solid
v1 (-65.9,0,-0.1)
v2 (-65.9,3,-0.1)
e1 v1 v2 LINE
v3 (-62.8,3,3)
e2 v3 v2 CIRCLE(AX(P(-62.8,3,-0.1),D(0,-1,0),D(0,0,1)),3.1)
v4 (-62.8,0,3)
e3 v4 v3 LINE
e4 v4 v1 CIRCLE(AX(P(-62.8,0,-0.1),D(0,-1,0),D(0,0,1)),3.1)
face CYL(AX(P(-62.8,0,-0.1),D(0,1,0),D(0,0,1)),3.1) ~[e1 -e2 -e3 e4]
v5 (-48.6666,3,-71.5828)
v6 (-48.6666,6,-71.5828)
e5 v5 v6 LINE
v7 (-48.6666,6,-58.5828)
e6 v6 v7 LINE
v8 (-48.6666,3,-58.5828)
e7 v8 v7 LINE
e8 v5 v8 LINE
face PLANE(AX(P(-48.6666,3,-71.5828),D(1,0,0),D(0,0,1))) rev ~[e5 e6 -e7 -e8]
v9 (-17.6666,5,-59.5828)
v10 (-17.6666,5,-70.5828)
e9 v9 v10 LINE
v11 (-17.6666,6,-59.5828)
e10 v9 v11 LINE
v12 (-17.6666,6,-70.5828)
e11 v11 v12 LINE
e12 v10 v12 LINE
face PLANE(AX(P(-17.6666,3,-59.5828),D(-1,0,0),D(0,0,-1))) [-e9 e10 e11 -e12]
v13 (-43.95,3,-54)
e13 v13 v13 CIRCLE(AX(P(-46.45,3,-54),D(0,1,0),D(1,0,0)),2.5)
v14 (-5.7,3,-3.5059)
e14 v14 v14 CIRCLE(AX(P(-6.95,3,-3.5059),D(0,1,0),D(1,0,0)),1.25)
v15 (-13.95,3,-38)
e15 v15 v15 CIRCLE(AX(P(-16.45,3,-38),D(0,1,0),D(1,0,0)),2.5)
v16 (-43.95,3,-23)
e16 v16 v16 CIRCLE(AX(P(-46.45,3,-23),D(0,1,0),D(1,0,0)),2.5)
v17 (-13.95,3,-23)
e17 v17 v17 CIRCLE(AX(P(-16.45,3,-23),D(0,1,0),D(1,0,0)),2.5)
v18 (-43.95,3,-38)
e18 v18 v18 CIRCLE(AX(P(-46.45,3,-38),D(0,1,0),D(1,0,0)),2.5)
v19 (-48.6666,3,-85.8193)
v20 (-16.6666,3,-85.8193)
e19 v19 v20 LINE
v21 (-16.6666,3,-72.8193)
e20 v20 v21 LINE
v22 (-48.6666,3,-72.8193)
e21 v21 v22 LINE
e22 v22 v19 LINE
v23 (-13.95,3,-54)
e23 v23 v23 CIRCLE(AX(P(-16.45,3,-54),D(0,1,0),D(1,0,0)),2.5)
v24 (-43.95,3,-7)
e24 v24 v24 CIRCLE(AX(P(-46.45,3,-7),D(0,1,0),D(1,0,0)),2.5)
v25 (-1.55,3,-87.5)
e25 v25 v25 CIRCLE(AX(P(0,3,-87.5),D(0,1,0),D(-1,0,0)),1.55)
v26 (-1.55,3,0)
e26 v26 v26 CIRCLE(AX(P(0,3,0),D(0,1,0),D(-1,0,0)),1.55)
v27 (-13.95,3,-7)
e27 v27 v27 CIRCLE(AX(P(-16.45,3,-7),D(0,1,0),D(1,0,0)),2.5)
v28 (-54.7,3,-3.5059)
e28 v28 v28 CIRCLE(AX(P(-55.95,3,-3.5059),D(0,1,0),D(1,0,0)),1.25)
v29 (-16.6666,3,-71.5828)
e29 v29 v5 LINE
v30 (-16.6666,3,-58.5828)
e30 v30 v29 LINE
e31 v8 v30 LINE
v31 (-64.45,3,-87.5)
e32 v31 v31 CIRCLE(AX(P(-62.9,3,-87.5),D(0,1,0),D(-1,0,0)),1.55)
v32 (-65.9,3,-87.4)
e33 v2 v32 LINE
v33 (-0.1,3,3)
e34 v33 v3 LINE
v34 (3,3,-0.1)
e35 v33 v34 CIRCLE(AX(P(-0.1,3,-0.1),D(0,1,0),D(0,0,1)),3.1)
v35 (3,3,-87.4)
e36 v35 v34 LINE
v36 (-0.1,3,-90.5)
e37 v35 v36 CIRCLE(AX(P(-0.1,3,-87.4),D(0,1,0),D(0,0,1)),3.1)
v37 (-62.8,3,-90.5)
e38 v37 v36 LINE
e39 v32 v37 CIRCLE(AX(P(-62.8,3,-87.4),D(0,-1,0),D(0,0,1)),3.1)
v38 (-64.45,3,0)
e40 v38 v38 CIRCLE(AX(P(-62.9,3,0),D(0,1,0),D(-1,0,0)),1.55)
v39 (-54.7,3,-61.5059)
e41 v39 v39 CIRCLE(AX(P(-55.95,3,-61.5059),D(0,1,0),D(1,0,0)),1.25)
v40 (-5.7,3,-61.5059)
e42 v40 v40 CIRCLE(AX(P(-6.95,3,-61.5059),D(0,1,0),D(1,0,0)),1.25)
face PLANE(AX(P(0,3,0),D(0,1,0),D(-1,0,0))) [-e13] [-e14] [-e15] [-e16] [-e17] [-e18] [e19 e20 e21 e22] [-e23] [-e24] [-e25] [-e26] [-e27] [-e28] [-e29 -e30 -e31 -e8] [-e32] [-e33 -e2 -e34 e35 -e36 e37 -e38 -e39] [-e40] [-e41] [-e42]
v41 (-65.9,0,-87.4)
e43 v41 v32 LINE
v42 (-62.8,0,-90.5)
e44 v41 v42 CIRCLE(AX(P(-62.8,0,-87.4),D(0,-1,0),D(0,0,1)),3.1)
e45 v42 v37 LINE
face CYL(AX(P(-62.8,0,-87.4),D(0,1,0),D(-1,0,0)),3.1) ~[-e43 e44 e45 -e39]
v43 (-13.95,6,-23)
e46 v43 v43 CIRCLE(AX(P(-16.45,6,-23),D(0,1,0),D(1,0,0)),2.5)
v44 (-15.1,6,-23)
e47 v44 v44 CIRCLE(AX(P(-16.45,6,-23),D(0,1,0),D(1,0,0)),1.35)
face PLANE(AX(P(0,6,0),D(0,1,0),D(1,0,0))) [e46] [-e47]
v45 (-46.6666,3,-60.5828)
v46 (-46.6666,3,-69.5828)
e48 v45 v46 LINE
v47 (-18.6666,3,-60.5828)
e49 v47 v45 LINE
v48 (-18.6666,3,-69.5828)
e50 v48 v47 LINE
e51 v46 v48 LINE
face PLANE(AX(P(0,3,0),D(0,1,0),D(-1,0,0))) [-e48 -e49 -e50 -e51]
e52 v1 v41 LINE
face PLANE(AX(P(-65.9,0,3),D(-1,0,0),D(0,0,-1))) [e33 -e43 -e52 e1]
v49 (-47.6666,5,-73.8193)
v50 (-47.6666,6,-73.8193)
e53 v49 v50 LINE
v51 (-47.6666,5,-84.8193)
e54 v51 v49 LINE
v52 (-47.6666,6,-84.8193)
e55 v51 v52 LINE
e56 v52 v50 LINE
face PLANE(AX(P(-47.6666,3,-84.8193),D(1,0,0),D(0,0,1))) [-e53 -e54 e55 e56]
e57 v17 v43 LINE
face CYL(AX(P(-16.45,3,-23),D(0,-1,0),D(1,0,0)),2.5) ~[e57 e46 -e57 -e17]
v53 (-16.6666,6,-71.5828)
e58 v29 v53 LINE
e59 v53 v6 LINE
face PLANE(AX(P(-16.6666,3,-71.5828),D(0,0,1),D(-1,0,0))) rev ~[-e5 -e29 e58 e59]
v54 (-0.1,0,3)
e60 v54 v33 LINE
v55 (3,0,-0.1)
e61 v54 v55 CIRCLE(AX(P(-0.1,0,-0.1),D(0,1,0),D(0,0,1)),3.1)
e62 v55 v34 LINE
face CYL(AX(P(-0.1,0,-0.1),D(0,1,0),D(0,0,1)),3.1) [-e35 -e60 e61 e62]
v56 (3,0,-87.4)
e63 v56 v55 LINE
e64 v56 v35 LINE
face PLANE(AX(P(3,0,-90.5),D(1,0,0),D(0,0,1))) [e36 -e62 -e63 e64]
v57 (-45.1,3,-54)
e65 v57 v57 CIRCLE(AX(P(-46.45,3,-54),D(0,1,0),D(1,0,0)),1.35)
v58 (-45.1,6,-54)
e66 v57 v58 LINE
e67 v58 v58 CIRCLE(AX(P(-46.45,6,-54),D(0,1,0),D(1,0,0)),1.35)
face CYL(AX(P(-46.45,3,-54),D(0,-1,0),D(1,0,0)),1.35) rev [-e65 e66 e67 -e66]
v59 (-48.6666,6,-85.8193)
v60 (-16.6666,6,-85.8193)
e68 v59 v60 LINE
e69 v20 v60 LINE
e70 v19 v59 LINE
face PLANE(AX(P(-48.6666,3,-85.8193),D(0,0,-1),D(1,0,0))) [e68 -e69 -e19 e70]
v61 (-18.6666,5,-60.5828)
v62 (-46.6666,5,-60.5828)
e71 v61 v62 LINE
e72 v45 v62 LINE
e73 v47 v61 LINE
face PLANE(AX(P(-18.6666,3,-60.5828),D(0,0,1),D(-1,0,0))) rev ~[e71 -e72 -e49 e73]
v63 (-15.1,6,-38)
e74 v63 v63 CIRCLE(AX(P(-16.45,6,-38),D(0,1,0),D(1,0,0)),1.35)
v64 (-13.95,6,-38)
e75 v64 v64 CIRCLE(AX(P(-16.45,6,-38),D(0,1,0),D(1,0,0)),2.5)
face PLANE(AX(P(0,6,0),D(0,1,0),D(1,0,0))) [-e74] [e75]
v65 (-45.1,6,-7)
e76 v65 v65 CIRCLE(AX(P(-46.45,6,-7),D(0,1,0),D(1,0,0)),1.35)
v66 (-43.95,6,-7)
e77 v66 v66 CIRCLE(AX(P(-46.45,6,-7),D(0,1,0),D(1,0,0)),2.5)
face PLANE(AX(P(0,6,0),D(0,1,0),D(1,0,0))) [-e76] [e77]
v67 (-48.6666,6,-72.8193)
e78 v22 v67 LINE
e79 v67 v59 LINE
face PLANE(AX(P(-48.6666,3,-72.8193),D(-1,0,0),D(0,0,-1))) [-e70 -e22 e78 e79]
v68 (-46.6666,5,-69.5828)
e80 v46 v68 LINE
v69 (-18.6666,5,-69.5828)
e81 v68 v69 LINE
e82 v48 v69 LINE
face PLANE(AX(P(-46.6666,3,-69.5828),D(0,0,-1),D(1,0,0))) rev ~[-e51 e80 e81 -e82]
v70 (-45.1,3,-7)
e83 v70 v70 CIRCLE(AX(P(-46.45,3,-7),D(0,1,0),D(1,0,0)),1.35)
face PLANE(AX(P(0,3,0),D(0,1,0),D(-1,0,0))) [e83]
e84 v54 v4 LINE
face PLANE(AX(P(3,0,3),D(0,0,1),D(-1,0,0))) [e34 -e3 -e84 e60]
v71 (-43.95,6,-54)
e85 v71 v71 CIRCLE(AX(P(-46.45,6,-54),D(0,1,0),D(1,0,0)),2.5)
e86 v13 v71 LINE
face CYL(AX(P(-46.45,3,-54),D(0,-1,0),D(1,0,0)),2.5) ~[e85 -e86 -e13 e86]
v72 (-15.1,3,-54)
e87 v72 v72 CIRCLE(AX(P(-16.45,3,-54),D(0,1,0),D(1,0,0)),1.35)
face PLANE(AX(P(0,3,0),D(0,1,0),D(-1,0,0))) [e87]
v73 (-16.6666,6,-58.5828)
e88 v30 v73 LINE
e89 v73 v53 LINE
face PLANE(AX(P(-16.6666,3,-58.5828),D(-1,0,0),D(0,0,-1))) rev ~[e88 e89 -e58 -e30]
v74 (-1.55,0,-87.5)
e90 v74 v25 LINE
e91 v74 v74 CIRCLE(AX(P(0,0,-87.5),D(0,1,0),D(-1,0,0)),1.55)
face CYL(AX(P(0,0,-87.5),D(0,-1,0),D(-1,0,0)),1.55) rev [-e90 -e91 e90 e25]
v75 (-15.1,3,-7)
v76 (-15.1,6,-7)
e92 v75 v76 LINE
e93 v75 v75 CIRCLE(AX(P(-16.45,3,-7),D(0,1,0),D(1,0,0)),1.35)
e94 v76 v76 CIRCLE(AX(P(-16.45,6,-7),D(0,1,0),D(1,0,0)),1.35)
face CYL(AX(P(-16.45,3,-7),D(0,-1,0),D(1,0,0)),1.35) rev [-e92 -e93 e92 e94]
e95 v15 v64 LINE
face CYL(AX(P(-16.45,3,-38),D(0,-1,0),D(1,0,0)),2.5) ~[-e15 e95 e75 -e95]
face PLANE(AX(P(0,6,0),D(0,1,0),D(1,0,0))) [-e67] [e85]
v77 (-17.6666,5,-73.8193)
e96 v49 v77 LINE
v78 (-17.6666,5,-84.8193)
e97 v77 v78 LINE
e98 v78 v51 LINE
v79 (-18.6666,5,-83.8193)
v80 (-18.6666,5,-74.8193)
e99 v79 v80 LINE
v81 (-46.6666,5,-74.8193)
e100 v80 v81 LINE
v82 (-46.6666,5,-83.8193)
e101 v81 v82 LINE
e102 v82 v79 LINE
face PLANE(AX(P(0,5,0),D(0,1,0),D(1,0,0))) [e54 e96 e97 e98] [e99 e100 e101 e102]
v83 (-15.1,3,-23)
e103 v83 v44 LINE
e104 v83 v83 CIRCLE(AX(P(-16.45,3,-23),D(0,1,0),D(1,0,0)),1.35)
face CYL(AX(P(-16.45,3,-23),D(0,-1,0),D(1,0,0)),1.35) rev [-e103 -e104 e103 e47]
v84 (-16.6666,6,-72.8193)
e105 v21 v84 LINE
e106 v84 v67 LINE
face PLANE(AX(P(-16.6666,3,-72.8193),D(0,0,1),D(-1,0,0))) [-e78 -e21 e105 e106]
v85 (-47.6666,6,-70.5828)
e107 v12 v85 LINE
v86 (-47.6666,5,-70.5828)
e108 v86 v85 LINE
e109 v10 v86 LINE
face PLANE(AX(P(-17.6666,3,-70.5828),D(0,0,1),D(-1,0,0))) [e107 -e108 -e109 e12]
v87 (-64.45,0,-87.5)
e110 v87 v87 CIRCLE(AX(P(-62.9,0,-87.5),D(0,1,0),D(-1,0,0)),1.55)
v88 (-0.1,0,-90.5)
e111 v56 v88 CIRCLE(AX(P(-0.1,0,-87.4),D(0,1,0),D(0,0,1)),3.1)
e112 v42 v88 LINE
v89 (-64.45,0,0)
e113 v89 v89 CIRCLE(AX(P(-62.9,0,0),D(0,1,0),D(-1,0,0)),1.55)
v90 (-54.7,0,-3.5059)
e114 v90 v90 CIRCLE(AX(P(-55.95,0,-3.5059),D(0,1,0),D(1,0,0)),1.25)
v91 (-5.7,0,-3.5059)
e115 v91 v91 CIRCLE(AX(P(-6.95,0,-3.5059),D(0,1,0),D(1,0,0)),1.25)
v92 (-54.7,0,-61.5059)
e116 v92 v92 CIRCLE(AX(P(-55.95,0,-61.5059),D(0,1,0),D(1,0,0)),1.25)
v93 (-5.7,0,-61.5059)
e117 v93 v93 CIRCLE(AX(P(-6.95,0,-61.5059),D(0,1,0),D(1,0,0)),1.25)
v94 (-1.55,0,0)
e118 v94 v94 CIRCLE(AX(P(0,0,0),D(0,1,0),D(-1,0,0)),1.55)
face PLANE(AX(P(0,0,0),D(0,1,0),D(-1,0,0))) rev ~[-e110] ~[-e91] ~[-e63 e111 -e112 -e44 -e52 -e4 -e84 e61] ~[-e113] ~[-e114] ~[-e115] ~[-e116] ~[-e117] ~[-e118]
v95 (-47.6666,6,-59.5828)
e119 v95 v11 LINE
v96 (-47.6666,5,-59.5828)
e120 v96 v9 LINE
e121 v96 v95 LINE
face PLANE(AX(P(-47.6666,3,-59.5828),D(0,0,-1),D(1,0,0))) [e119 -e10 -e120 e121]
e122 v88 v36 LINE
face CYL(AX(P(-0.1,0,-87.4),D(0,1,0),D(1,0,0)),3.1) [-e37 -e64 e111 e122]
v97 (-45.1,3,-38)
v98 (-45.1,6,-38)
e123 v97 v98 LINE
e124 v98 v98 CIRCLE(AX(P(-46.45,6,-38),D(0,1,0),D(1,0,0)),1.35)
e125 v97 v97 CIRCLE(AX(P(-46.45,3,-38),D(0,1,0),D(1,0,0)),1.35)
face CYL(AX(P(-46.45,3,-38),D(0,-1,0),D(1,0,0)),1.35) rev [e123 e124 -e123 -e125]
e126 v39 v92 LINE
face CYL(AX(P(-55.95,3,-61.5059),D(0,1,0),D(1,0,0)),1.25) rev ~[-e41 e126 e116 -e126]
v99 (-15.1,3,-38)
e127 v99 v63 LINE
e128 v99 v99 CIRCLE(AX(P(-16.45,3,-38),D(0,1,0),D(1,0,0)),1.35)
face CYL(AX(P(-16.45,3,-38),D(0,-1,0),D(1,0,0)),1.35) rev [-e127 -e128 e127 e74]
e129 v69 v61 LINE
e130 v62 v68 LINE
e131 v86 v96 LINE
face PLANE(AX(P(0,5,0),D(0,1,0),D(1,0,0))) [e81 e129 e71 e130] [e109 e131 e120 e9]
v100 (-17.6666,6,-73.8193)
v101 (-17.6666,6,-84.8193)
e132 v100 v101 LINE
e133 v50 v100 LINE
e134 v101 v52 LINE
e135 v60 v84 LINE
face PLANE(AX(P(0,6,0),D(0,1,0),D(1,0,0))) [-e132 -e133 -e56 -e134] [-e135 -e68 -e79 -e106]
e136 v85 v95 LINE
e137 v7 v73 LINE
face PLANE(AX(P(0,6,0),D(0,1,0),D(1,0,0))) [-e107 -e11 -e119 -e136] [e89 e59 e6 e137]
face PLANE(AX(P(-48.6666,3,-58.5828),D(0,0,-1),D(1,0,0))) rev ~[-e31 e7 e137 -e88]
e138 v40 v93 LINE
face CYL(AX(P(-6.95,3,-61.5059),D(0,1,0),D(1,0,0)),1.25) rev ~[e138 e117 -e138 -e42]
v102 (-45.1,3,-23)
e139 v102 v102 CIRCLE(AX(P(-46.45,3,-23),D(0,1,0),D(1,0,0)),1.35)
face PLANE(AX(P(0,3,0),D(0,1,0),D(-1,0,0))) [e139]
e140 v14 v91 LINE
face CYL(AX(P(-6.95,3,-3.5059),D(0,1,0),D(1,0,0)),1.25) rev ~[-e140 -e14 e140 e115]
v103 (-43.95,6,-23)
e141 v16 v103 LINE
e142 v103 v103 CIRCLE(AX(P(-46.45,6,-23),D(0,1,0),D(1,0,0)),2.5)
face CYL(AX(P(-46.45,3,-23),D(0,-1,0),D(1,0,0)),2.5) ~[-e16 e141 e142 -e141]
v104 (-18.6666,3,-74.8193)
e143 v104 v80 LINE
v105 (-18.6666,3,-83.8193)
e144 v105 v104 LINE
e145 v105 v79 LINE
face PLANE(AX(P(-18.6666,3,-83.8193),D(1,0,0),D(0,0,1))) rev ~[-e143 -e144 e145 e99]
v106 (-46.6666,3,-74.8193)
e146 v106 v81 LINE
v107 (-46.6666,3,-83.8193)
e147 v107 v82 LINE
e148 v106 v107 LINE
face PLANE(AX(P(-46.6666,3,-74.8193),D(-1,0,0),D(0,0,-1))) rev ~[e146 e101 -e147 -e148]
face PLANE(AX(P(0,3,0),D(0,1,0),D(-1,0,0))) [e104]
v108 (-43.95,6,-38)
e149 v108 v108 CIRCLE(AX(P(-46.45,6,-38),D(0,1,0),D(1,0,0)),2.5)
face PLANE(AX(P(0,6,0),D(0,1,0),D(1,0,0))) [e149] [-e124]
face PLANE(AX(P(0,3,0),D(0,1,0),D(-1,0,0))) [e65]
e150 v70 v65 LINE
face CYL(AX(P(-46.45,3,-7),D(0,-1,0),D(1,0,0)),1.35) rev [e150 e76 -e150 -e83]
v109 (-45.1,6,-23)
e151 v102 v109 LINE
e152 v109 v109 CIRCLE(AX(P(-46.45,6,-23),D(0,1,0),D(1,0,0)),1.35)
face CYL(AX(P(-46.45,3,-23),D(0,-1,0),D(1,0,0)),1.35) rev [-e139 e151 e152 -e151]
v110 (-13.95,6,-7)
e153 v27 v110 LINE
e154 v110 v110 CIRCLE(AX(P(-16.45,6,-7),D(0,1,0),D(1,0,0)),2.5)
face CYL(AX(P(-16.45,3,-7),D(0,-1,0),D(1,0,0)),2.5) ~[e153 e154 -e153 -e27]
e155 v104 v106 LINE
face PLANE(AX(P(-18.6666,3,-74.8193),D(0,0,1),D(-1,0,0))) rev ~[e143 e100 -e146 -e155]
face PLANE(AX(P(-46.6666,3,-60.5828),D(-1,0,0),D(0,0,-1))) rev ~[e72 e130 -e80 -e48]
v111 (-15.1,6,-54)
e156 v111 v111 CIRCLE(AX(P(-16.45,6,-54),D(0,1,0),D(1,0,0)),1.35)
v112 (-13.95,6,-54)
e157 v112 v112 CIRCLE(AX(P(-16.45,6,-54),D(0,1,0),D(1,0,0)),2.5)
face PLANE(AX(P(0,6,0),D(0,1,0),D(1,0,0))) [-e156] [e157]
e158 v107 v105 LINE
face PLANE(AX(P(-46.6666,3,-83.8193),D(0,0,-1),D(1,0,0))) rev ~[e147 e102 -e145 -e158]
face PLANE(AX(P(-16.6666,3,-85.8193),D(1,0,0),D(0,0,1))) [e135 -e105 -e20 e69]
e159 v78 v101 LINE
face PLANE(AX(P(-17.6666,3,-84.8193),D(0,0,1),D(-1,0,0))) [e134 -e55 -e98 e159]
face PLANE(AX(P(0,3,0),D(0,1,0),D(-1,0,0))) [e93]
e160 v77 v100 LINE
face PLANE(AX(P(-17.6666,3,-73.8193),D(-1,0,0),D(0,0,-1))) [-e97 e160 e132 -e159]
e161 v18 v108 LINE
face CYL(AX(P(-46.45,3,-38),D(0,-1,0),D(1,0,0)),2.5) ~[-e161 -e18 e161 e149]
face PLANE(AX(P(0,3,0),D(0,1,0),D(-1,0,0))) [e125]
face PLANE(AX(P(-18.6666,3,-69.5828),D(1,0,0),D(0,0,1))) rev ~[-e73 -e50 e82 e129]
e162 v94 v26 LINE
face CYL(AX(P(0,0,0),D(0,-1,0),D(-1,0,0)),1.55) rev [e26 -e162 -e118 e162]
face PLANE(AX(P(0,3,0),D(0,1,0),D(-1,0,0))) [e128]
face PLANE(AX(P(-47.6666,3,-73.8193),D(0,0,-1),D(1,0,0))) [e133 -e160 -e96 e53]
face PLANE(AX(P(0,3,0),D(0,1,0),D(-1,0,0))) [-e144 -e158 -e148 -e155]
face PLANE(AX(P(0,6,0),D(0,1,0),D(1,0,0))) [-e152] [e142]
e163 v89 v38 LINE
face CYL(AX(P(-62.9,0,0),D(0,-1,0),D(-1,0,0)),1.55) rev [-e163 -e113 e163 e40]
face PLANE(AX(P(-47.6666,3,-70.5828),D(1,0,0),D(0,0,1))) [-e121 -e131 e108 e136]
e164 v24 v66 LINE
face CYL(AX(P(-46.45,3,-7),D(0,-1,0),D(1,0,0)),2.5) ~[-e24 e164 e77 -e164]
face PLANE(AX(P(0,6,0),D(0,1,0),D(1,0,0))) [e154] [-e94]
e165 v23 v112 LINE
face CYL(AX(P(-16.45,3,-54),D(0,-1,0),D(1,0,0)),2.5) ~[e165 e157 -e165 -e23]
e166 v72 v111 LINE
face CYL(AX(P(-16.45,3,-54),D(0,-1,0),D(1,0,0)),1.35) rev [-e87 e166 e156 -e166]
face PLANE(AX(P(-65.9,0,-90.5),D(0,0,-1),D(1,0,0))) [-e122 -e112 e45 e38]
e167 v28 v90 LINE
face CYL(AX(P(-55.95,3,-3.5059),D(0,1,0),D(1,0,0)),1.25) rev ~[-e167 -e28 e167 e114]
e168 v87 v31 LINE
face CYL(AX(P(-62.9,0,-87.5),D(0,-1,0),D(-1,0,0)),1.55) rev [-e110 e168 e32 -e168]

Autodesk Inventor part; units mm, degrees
ref_plane "YZ Plane" through (0, 0, 0) normal (1, 0, 0) x (0, 1, 0)
ref_plane "XZ Plane" through (0, 0, 0) normal (0, 1, 0) x (-1, 0, 0)
ref_plane "XY Plane" through (0, 0, 0) normal (0, 0, 1) x (1, 0, 0)
sketch "Sketch1" plane through (0, 0, 0) normal (0, 1, 0) x (-1, 0, 0)
  line L0 (-3, 3) -> (65.9, 3)
  line L1 (65.9, 3) -> (65.9, -90.5)
  line L2 (65.9, -90.5) -> (-3, -90.5)
  line L3 (-3, -90.5) -> (-3, 3)
  circle A0 centre (62.9, 0) radius 1.55
  circle A1 centre (62.9, -87.5) radius 1.55
  circle A2 centre (0, -87.5) radius 1.55
  circle A3 centre (0, 0) radius 1.55
extrude "Extrusion1" add sketch "Sketch1" along normal blind 3
sketch "Sketch2" plane through (0, 3, 0) normal (0, 1, 0) x (1, 0, 0)
  circle A0 centre (0, 0) radius 1.55 projected
  circle A1 centre (0, 87.5) radius 1.55 projected
  circle A2 centre (-62.9, 87.5) radius 1.55 projected
  circle A3 centre (-62.9, 0) radius 1.55 projected
  line L0 (-65.9, -3) -> (3, -3) projected
  line L1 (3, -3) -> (3, 90.5) projected
  line L2 (3, 90.5) -> (-65.9, 90.5) projected
  line L3 (-65.9, 90.5) -> (-65.9, -3) projected
  line L4 (3, 90.5) -> (-65.9, 90.5) projected
  circle A4 centre (-46.45, 7) radius 1.35
  circle A5 centre (-46.45, 23) radius 1.35
  circle A6 centre (-16.45, 23) radius 1.35
  circle A7 centre (-16.45, 7) radius 1.35
  circle A8 centre (-16.45, 7) radius 2.5
  circle A9 centre (-16.45, 23) radius 2.5
  circle A10 centre (-46.45, 23) radius 2.5
  circle A11 centre (-46.45, 7) radius 2.5
extrude "Extrusion2" add sketch "Sketch2" along normal blind 3 contours A8 | A9 | A10 | A11
sketch "Sketch3" plane through (0, 3, 0) normal (0, 1, 0) x (1, 0, 0)
  circle A0 centre (-46.45, 23) radius 2.5 projected
  circle A1 centre (-16.45, 7) radius 2.5 projected
  circle A2 centre (-16.45, 23) radius 2.5 projected
  circle A3 centre (-46.45, 7) radius 2.5 projected
  circle A4 centre (0, 0) radius 1.55 projected
  circle A5 centre (0, 87.5) radius 1.55 projected
  circle A6 centre (-62.9, 87.5) radius 1.55 projected
  circle A7 centre (-62.9, 0) radius 1.55 projected
  line L0 (-65.9, -3) -> (3, -3) projected
  line L1 (3, -3) -> (3, 90.5) projected
  line L2 (3, 90.5) -> (-65.9, 90.5) projected
  line L3 (-65.9, 90.5) -> (-65.9, -3) projected
  circle A8 centre (-46.45, 38) radius 2.5
  circle A9 centre (-46.45, 54) radius 2.5
  circle A10 centre (-16.45, 38) radius 2.5
  circle A11 centre (-16.45, 54) radius 2.5
  circle A12 centre (-46.45, 38) radius 1.35
  circle A13 centre (-46.45, 54) radius 1.35
  circle A14 centre (-16.45, 38) radius 1.35
  circle A15 centre (-16.45, 54) radius 1.35
  dimension "d33" = 5
  dimension "d34" = 5
  dimension "d35" = 5
  dimension "d37" = 15
  dimension "d38" = 15
  dimension "d40" = 16
  dimension "d41" = 2.7
  dimension "d42" = 2.7
  dimension "d44" = 2.7
  dimension "d45" = 2.7
extrude "Extrusion3" add sketch "Sketch3" along normal blind 3 contours A8 | A9 | A10 | A11
sketch "Sketch4" plane through (0, 3, 0) normal (0, 1, 0) x (1, 0, 0)
  circle A0 centre (-16.45, 38) radius 2.5 projected
  circle A1 centre (-46.45, 38) radius 2.5 projected
  circle A2 centre (-46.45, 54) radius 2.5 projected
  circle A3 centre (-16.45, 54) radius 2.5 projected
  circle A4 centre (-46.45, 23) radius 2.5 projected
  circle A5 centre (-16.45, 7) radius 2.5 projected
  circle A6 centre (-16.45, 23) radius 2.5 projected
  circle A7 centre (-46.45, 7) radius 2.5 projected
  circle A8 centre (0, 0) radius 1.55 projected
  circle A9 centre (0, 87.5) radius 1.55 projected
  circle A10 centre (-62.9, 87.5) radius 1.55 projected
  circle A11 centre (-62.9, 0) radius 1.55 projected
  line L0 (-65.9, -3) -> (3, -3) projected
  line L1 (3, -3) -> (3, 90.5) projected
  line L2 (3, 90.5) -> (-65.9, 90.5) projected
  line L3 (-65.9, 90.5) -> (-65.9, -3) projected
  line L4 (-47.6666, 59.5828) -> (-17.6666, 59.5828)
  line L5 (-17.6666, 59.5828) -> (-17.6666, 70.5828)
  line L6 (-17.6666, 70.5828) -> (-47.6666, 70.5828)
  line L7 (-47.6666, 70.5828) -> (-47.6666, 59.5828)
  line L8 (-47.6666, 73.8193) -> (-17.6666, 73.8193)
  line L9 (-17.6666, 73.8193) -> (-17.6666, 84.8193)
  line L10 (-17.6666, 84.8193) -> (-47.6666, 84.8193)
  line L11 (-47.6666, 84.8193) -> (-47.6666, 73.8193)
  line L12 (-48.6666, 58.5828) -> (-16.6666, 58.5828)
  line L13 (-16.6666, 58.5828) -> (-16.6666, 71.5828)
  line L14 (-16.6666, 71.5828) -> (-48.6666, 71.5828)
  line L15 (-48.6666, 71.5828) -> (-48.6666, 58.5828)
  line L16 (-48.6666, 85.8193) -> (-16.6666, 85.8193)
  line L17 (-16.6666, 85.8193) -> (-16.6666, 72.8193)
  line L18 (-16.6666, 72.8193) -> (-48.6666, 72.8193)
  line L19 (-48.6666, 72.8193) -> (-48.6666, 85.8193)
  dimension "d61" = 32
  dimension "d62" = 13
  dimension "d63" = 32
  dimension "d64" = 13
  dimension "d65" = 1
  dimension "d66" = 30
  dimension "d67" = 0
  dimension "d68" = 1
  dimension "d69" = 30
  dimension "d81" = 11
  dimension "d82" = 11
  dimension "d83" = 1
  dimension "d84" = 1
extrude "Extrusion4" add sketch "Sketch4" along normal blind 3 contours L15 L14 L13 L12 | L16 L17 L18 L19
sketch "Sketch5" plane through (0, 3, 0) normal (0, 1, 0) x (1, 0, 0)
  line L0 (-47.6666, 84.8193) -> (-47.6666, 73.8193) projected
  line L1 (-47.6666, 73.8193) -> (-17.6666, 73.8193) projected
  line L2 (-17.6666, 73.8193) -> (-17.6666, 84.8193) projected
  line L3 (-17.6666, 84.8193) -> (-47.6666, 84.8193) projected
  line L4 (-47.6666, 70.5828) -> (-47.6666, 59.5828) projected
  line L5 (-47.6666, 59.5828) -> (-17.6666, 59.5828) projected
  line L6 (-17.6666, 59.5828) -> (-17.6666, 70.5828) projected
  line L7 (-17.6666, 70.5828) -> (-47.6666, 70.5828) projected
  line L8 (-46.6666, 83.8193) -> (-18.6666, 83.8193)
  line L9 (-18.6666, 83.8193) -> (-18.6666, 74.8193)
  line L10 (-18.6666, 74.8193) -> (-46.6666, 74.8193)
  line L11 (-46.6666, 74.8193) -> (-46.6666, 83.8193)
  line L12 (-46.6666, 69.5828) -> (-18.6666, 69.5828)
  line L13 (-18.6666, 69.5828) -> (-18.6666, 60.5828)
  line L14 (-18.6666, 60.5828) -> (-46.6666, 60.5828)
  line L15 (-46.6666, 60.5828) -> (-46.6666, 69.5828)
  point P0 (0, 0)
  dimension "d72" = 1
  dimension "d73" = 1
  dimension "d74" = 1
  dimension "d75" = 1
  dimension "d76" = 1
  dimension "d77" = 1
extrude "Extrusion5" add sketch "Sketch5" along normal blind 2
fillet "Fillet1" radius 3.1 4 edges at (3, 1.5, -90.5) (3, 1.5, 3) (-65.9, 1.5, 3) (-65.9, 1.5, -90.5)
sketch "Sketch6" plane through (0, 3, 0) normal (0, 1, 0) x (1, 0, 0)
  line L0 (-48.6666, 58.5828) -> (-48.6666, 71.5828) projected
  line L1 (-48.6666, 71.5828) -> (-16.6666, 71.5828) projected
  line L2 (-16.6666, 71.5828) -> (-16.6666, 58.5828) projected
  line L3 (-16.6666, 58.5828) -> (-48.6666, 58.5828) projected
  line L4 (-16.6666, 85.8193) -> (-16.6666, 72.8193) projected
  line L5 (-16.6666, 72.8193) -> (-48.6666, 72.8193) projected
  line L6 (-48.6666, 72.8193) -> (-48.6666, 85.8193) projected
  line L7 (-48.6666, 85.8193) -> (-16.6666, 85.8193) projected
  circle A0 centre (-16.45, 38) radius 2.5 projected
  circle A1 centre (-46.45, 38) radius 2.5 projected
  circle A2 centre (-46.45, 54) radius 2.5 projected
  circle A3 centre (-16.45, 54) radius 2.5 projected
  circle A4 centre (-46.45, 23) radius 2.5 projected
  circle A5 centre (-16.45, 7) radius 2.5 projected
  circle A6 centre (-16.45, 23) radius 2.5 projected
  circle A7 centre (-46.45, 7) radius 2.5 projected
  circle A8 centre (0, 0) radius 1.55 projected
  circle A9 centre (0, 87.5) radius 1.55 projected
  circle A10 centre (-62.9, 87.5) radius 1.55 projected
  circle A11 centre (-62.9, 0) radius 1.55 projected
  arc A12 (-62.8, 90.5) -> (-65.9, 87.4) centre (-62.8, 87.4) ccw projected
  line L8 (-65.9, 87.4) -> (-65.9, 0.1) projected
  arc A13 (-65.9, 0.1) -> (-62.8, -3) centre (-62.8, 0.1) ccw projected
  line L9 (-62.8, -3) -> (-0.1, -3) projected
  arc A14 (-0.1, -3) -> (3, 0.1) centre (-0.1, 0.1) ccw projected
  line L10 (3, 0.1) -> (3, 87.4) projected
  arc A15 (3, 87.4) -> (-0.1, 90.5) centre (-0.1, 87.4) ccw projected
  line L11 (-0.1, 90.5) -> (-62.8, 90.5) projected
  circle A16 centre (-55.95, 3.5059) radius 1.25
  circle A17 centre (-6.95, 3.5059) radius 1.25
  circle A18 centre (-6.95, 61.5059) radius 1.25
  circle A19 centre (-55.95, 61.5059) radius 1.25
  dimension "d85" = 2.5
  dimension "d86" = 2.5
  dimension "d87" = 2.5
  dimension "d88" = 2.5
  dimension "d89" = 49
  dimension "d90" = 49
  dimension "d91" = 58
  dimension "d92" = 9.95
extrude "Extrusion6" cut sketch "Sketch6" against normal blind 10 contours A16 | A17 | A18 | A19
properties part number "Regulator Mount"
